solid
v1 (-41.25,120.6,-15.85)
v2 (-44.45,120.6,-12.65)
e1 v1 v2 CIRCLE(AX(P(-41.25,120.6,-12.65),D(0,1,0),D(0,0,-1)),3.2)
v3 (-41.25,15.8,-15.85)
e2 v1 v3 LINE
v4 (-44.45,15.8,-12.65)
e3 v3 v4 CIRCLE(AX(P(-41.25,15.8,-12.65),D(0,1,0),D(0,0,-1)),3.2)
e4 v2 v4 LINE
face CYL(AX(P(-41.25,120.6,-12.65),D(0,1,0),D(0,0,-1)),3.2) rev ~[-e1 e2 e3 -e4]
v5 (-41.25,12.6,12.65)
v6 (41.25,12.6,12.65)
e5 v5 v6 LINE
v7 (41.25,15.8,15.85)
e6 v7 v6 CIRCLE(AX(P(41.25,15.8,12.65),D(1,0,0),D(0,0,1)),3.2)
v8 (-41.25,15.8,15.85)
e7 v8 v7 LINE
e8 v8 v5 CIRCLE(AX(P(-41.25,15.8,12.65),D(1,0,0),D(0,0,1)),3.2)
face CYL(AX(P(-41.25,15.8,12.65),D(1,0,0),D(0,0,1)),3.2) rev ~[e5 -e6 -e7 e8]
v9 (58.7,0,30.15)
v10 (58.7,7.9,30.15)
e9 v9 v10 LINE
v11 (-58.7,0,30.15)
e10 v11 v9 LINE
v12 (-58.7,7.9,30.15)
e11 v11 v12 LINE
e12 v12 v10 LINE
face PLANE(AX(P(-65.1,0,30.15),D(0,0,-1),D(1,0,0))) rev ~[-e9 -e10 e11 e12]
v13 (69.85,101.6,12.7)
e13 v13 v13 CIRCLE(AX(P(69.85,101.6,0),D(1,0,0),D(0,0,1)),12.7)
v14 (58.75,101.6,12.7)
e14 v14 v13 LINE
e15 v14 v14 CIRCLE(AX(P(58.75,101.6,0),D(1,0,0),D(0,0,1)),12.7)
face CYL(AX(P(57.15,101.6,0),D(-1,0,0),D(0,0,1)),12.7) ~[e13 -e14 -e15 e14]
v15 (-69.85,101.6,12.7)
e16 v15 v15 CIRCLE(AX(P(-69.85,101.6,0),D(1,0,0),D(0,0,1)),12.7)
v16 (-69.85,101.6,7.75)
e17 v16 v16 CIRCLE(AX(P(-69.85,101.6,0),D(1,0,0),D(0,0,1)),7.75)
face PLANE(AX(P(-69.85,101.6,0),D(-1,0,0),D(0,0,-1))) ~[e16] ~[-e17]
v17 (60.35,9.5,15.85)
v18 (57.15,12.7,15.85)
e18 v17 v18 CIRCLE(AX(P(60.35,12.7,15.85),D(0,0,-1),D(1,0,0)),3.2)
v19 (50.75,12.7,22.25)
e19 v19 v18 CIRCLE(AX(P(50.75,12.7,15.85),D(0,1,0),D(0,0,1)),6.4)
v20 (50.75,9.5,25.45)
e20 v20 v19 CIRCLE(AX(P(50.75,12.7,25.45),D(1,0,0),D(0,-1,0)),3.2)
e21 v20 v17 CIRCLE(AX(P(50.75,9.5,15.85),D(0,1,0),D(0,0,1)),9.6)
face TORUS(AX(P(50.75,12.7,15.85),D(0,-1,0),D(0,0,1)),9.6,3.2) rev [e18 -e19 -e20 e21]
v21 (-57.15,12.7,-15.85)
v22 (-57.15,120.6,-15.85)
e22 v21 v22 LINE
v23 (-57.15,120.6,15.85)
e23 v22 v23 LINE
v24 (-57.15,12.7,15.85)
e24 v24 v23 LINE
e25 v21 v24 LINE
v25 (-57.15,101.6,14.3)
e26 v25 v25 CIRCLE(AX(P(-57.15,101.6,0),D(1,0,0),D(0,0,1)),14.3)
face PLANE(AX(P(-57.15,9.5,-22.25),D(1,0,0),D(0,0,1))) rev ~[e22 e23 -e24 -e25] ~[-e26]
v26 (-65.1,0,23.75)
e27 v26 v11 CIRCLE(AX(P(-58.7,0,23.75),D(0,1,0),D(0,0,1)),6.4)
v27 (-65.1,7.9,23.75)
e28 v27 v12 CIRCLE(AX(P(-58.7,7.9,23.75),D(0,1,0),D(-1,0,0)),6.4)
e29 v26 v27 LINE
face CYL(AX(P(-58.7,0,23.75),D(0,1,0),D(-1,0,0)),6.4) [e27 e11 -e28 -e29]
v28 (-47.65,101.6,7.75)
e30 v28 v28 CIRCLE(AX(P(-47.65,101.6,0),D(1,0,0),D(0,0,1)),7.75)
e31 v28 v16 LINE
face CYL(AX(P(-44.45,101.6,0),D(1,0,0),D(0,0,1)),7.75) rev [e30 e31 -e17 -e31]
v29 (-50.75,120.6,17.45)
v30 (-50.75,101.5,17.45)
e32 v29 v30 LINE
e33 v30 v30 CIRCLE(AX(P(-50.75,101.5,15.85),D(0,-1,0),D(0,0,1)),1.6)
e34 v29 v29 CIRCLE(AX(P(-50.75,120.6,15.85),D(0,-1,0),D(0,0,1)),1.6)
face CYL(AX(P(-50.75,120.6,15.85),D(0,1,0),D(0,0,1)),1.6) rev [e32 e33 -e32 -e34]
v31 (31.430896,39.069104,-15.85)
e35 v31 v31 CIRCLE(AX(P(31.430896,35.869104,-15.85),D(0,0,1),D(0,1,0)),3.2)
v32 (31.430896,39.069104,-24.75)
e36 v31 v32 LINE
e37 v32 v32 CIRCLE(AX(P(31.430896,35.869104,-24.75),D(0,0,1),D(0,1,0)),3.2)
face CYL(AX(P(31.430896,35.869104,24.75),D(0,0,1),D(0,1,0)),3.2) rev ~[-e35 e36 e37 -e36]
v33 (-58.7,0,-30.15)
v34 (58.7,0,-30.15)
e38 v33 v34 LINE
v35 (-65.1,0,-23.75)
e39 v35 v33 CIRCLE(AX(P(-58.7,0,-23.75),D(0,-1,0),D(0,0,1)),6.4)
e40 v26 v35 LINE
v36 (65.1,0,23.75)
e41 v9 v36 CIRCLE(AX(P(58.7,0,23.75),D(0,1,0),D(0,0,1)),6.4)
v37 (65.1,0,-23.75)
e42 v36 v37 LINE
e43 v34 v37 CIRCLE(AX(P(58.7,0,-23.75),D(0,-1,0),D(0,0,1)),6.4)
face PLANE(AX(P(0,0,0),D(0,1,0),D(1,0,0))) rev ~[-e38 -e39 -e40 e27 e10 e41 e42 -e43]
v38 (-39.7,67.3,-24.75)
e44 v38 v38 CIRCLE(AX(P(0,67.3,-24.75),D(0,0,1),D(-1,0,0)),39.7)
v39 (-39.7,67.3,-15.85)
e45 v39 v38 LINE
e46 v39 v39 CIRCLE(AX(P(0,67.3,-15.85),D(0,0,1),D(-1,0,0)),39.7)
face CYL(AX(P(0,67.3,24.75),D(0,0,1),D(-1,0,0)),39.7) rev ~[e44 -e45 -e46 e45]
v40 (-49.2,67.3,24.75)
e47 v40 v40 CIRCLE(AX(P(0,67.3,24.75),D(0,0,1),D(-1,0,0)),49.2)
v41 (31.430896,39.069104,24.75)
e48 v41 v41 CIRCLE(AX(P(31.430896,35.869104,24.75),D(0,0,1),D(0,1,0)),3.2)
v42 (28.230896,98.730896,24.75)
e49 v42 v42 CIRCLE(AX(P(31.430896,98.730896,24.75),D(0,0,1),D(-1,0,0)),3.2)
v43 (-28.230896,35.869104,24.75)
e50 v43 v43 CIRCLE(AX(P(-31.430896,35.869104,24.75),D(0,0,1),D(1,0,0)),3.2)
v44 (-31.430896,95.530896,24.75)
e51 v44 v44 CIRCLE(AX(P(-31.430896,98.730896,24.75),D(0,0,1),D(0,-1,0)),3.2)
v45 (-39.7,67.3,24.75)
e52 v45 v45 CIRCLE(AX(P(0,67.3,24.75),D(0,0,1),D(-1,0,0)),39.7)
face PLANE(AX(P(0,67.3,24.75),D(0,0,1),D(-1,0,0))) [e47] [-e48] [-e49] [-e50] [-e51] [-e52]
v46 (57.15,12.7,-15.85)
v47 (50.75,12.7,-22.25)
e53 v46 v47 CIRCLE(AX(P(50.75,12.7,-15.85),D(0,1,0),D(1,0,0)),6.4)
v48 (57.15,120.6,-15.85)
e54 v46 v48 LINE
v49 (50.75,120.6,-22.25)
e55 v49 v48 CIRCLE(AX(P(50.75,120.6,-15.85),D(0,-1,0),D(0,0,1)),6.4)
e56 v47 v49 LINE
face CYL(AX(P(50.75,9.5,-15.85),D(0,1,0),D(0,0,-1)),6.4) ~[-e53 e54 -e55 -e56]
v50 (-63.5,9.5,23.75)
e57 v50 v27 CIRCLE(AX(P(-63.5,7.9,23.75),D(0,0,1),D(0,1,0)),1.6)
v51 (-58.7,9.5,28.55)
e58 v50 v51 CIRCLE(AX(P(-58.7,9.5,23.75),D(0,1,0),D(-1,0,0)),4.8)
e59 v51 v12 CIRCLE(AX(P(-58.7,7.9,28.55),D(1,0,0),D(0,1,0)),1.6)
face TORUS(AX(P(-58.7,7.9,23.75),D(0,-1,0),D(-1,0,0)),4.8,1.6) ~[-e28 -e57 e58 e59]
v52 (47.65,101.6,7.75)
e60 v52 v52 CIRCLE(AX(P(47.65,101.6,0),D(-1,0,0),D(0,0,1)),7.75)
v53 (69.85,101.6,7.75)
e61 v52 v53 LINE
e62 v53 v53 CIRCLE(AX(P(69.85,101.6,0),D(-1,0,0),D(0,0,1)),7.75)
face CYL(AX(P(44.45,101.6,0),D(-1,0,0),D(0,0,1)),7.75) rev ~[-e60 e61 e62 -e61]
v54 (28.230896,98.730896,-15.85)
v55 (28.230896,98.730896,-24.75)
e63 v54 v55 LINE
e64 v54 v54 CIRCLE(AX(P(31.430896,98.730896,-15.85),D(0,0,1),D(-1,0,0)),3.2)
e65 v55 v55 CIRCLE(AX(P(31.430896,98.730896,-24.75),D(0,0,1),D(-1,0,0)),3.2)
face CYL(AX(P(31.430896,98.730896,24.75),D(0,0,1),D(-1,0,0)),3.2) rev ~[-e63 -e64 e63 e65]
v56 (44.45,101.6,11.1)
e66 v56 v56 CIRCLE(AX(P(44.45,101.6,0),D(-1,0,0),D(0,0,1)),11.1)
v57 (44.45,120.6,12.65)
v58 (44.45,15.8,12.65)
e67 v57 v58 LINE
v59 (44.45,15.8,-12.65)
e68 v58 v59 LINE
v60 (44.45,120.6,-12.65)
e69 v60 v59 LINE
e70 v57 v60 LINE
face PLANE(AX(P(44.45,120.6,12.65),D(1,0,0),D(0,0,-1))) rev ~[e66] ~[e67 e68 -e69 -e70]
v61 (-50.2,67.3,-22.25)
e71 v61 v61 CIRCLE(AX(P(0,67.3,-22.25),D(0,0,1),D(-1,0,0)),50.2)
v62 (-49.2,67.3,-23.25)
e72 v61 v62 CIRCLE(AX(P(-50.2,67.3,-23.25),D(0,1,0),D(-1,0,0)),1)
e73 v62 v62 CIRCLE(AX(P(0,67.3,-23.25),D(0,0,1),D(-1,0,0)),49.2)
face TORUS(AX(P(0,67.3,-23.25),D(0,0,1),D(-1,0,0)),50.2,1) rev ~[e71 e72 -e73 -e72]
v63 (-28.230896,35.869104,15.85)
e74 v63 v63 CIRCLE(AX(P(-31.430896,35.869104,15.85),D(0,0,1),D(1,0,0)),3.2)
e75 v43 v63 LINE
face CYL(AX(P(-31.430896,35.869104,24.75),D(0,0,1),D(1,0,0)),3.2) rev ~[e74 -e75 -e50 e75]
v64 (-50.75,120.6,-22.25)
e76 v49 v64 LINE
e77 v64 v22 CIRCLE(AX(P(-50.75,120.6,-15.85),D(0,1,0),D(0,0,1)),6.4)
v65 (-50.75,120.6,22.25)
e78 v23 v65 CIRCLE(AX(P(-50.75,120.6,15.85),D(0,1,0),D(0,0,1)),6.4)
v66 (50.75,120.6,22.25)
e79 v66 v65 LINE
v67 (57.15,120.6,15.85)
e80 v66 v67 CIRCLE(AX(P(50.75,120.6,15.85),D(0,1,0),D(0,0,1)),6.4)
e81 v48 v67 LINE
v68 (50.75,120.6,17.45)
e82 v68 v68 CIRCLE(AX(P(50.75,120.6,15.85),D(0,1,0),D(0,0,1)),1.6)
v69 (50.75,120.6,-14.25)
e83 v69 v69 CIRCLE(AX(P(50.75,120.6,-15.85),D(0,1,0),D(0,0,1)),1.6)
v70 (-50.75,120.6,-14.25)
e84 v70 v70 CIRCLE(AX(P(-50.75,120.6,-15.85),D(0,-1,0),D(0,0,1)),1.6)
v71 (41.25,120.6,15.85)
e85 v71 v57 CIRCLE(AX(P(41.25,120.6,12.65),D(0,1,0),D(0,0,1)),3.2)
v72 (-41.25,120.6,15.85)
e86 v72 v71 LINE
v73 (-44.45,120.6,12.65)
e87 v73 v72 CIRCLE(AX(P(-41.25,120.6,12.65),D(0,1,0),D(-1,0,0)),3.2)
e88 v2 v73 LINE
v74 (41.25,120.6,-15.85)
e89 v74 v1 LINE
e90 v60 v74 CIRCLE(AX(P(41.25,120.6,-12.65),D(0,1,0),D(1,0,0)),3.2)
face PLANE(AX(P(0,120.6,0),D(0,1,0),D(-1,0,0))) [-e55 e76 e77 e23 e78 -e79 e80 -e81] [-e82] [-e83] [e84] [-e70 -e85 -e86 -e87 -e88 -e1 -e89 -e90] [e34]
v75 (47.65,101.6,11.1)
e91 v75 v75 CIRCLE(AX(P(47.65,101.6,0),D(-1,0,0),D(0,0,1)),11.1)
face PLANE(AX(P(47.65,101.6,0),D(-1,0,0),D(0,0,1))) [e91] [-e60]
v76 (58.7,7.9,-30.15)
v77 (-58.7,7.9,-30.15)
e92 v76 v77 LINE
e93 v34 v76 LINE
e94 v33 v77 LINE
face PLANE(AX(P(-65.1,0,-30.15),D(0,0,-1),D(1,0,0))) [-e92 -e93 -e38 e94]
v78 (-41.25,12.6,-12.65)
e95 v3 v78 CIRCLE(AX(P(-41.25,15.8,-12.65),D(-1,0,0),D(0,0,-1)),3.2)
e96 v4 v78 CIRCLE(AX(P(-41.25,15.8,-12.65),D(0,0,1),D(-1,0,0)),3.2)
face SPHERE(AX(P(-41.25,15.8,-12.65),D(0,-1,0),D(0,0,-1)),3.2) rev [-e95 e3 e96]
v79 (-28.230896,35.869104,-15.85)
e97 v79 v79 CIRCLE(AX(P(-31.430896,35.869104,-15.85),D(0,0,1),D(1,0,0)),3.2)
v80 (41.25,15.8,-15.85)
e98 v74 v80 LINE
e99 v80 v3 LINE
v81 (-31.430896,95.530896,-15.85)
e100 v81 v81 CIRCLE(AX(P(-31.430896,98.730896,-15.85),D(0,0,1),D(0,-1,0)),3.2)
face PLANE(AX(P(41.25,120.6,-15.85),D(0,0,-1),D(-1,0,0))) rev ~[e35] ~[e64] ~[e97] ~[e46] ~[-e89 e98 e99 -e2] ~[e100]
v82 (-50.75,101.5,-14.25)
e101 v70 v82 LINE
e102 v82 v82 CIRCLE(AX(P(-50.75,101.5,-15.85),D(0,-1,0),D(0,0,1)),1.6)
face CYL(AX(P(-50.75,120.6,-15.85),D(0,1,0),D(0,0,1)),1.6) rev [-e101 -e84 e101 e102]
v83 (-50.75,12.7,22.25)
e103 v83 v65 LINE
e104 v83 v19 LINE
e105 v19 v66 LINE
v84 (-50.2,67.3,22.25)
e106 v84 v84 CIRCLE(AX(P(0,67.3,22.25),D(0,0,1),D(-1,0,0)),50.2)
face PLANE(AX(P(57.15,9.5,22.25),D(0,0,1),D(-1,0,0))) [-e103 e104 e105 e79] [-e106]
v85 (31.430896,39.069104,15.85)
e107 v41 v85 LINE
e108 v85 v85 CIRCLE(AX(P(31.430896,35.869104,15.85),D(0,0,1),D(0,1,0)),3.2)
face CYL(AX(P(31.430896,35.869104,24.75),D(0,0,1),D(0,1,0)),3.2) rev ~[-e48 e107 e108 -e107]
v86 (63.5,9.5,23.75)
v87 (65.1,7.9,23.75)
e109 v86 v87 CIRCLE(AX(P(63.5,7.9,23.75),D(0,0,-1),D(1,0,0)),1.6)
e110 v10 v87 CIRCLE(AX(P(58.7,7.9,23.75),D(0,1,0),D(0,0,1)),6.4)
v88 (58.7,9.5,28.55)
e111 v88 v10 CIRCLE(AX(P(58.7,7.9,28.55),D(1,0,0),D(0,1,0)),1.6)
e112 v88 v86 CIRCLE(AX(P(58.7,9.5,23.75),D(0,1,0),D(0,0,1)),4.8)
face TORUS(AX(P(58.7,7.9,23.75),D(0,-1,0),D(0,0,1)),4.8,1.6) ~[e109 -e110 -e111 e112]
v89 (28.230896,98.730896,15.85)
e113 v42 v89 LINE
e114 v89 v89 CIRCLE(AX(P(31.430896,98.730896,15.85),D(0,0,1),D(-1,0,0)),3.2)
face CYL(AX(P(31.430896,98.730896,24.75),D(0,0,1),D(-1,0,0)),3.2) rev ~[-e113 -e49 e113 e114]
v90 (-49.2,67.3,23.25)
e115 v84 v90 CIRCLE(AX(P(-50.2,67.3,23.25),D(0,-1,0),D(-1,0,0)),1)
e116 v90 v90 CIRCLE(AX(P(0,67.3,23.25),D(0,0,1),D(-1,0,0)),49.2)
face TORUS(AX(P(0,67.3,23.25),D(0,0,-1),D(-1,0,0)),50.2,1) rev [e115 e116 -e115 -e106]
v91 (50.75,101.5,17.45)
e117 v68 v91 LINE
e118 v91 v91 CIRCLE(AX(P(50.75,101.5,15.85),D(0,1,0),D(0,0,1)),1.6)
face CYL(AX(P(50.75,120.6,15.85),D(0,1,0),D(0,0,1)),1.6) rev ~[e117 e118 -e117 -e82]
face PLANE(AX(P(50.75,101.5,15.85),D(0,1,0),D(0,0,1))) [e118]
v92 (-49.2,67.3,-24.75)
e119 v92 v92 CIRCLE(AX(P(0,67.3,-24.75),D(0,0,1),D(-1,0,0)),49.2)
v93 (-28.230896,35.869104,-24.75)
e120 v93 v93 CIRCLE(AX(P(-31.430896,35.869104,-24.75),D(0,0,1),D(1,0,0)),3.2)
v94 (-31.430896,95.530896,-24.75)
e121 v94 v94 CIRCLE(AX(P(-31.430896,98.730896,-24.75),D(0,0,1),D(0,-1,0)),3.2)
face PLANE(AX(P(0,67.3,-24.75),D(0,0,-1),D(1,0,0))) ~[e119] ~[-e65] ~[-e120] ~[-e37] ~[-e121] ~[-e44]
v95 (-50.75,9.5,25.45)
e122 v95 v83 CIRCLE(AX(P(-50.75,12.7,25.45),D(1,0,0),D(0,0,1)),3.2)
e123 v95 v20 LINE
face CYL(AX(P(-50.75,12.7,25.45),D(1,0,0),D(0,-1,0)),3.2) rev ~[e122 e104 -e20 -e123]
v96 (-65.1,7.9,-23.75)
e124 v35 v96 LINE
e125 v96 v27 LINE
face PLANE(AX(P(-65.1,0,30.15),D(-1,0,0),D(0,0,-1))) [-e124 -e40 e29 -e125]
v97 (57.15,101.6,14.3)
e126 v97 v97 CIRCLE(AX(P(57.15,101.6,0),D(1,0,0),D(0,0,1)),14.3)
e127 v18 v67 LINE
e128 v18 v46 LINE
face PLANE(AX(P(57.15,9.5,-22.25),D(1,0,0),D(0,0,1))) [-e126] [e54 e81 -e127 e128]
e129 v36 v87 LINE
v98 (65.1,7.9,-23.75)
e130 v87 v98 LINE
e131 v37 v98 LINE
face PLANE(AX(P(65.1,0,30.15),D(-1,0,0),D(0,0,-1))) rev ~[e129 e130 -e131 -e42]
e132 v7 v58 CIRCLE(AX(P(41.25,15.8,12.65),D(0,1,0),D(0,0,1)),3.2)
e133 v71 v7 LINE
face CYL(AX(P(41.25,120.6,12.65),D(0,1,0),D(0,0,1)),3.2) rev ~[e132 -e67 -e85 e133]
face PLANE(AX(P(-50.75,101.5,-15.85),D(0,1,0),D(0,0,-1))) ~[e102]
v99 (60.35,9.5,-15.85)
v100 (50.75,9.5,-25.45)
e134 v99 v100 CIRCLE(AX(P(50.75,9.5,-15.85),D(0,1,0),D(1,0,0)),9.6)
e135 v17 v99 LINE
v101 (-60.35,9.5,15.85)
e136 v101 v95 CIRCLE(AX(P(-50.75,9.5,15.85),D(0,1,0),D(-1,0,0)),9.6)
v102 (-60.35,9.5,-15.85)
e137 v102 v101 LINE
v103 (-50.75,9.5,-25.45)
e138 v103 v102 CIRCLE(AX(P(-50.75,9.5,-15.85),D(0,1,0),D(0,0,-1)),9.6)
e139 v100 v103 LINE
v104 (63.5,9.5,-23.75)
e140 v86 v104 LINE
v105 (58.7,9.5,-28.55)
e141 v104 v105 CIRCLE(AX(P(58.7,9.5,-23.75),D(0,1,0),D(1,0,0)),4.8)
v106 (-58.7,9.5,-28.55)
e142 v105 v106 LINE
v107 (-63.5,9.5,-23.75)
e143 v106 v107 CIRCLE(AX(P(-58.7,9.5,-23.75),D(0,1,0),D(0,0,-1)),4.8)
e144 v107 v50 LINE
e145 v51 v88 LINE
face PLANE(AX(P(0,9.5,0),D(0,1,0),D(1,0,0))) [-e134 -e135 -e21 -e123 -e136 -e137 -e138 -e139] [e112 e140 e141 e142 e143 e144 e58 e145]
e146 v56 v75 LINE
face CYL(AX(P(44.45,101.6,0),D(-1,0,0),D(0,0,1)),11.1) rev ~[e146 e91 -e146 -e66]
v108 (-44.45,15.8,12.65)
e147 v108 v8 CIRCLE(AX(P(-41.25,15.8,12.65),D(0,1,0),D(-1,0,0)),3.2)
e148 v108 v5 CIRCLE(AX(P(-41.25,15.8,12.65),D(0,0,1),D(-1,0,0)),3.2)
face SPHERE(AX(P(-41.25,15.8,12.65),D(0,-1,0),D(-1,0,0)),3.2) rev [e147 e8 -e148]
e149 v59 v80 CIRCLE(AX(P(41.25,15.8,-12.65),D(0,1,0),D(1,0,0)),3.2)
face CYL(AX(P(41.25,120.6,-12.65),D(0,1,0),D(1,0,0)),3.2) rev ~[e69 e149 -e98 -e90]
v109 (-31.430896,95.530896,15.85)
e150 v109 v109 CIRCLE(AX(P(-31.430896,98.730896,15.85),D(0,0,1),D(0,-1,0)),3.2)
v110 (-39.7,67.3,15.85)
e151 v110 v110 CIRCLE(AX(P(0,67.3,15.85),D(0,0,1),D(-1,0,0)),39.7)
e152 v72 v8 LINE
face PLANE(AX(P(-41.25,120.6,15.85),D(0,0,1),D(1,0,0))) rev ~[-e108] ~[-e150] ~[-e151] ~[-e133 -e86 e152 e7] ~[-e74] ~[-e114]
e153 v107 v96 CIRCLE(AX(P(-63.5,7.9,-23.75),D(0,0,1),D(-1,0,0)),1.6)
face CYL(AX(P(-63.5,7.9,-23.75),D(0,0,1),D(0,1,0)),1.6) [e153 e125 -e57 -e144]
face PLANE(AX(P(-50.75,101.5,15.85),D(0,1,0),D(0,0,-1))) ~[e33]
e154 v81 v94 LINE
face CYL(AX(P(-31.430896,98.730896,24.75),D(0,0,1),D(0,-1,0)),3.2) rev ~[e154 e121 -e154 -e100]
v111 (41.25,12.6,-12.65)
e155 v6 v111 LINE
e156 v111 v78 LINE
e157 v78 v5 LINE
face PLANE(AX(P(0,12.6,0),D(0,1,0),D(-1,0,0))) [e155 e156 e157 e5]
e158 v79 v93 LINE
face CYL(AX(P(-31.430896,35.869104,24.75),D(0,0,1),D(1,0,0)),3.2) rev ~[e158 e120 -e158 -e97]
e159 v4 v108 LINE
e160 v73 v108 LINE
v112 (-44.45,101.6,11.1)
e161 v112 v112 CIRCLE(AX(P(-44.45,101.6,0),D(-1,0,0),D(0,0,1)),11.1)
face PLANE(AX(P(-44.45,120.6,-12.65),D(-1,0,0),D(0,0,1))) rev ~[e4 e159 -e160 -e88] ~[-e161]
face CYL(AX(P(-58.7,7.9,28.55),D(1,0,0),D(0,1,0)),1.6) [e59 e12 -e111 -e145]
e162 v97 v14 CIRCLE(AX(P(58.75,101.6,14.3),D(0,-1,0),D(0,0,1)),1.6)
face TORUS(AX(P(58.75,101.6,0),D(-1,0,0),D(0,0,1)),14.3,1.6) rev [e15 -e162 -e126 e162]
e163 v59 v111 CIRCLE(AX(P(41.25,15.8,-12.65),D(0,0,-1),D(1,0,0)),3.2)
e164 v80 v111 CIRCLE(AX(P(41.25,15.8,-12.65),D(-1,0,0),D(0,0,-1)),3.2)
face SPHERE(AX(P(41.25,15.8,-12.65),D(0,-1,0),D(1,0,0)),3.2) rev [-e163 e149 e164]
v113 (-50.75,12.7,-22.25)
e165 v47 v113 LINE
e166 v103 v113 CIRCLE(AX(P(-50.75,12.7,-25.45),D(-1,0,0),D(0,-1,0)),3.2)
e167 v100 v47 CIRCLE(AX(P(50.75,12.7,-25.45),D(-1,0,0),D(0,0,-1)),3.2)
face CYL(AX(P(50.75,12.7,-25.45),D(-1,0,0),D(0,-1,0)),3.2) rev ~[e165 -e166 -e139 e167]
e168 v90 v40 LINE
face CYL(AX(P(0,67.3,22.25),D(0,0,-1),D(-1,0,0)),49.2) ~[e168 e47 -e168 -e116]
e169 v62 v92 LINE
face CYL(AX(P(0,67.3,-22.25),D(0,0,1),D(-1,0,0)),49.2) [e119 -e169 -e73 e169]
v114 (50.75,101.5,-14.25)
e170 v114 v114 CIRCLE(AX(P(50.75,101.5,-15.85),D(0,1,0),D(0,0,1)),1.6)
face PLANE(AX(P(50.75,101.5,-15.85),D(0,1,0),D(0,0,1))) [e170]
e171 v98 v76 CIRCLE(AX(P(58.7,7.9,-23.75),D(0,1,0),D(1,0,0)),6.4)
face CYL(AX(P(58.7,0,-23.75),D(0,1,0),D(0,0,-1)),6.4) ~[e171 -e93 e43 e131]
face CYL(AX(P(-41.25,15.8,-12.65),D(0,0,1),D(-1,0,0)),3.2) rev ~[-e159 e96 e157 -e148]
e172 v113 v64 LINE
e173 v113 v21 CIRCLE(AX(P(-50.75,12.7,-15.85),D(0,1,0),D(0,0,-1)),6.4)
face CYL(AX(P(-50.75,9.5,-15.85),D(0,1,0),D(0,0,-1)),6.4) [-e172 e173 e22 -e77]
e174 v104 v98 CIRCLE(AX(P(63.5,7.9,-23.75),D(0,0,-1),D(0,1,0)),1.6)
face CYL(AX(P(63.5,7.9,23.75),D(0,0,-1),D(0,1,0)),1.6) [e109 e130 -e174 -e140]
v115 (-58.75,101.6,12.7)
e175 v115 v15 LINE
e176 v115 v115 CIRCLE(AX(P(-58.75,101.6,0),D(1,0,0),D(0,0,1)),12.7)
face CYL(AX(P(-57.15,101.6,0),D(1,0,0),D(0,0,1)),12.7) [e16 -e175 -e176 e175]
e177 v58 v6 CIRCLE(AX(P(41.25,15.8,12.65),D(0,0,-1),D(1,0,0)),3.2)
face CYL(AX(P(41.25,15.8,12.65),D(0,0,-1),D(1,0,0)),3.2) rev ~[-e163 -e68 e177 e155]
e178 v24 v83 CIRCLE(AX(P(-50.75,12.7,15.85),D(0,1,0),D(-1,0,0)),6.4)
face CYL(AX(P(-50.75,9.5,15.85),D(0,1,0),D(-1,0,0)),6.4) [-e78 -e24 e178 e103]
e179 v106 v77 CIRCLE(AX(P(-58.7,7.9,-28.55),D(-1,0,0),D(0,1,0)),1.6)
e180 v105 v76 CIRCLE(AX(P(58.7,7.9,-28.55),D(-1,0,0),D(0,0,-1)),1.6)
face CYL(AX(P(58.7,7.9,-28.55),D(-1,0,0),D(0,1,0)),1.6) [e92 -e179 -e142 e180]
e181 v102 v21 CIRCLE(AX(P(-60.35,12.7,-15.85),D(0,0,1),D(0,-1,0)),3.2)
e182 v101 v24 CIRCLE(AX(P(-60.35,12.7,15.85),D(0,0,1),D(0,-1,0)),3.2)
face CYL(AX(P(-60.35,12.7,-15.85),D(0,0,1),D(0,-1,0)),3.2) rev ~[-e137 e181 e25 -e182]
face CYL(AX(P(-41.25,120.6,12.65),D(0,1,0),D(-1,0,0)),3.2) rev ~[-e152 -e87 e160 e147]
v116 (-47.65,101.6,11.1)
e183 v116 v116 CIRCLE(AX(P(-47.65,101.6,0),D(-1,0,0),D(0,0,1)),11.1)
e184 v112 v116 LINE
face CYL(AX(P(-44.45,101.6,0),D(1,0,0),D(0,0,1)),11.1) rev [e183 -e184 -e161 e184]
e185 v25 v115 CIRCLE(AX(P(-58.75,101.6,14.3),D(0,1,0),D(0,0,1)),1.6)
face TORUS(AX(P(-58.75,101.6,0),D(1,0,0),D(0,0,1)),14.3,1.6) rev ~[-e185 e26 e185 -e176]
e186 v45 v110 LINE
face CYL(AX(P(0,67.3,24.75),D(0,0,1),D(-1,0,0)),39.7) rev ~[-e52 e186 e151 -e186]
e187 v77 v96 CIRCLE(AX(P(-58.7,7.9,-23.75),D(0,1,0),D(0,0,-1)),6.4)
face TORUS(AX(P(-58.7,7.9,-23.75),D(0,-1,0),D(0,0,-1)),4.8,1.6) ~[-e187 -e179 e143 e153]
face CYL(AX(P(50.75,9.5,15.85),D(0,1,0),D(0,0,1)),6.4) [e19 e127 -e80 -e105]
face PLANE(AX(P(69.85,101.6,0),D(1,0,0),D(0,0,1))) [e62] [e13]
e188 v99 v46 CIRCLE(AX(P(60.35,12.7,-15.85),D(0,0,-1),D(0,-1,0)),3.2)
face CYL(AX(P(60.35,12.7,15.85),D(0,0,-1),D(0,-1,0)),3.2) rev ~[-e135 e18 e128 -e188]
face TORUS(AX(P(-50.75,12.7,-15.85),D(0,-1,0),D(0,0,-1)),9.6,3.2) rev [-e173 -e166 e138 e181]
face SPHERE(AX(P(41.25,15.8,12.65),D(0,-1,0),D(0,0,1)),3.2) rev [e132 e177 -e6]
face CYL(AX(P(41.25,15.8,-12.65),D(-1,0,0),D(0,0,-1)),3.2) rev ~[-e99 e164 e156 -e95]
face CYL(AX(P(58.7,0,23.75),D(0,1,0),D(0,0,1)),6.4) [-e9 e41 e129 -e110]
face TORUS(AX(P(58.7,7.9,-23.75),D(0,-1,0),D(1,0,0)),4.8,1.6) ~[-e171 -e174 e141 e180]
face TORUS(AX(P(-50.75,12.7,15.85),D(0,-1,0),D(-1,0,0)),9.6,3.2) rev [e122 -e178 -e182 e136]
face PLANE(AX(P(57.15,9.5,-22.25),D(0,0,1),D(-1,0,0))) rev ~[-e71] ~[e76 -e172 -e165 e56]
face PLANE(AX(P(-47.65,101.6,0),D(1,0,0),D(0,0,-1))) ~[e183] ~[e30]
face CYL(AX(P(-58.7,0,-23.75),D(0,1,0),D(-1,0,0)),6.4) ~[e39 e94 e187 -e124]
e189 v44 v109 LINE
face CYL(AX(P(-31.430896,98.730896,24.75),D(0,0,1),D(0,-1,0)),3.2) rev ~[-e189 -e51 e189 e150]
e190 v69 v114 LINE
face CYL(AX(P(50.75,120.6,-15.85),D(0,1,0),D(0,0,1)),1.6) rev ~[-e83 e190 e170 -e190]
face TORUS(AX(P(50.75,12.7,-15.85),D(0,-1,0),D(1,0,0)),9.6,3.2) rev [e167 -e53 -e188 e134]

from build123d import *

# Parameters (mm, degrees)
SKETCH1_W           = 130.2
SKETCH1_H           = 60.3
BASE_EXTRUDE_DEPTH  = 9.5
SKETCH2_W           = 114.3
SKETCH2_H           = 44.5
BOSS_EXTRUDE1_DEPTH = 111.1
FILLET1_R           = 6.4
FILLET2_R           = 1.6
FILLET3_R           = 3.2
CUT_EXTRUDE1_DEPTH  = 108
FILLET4_R           = 3.2
SKETCH4_R           = 49.2
BOSS_EXTRUDE2_DEPTH = 2.5
SKETCH5_R           = 39.7
CUT_EXTRUDE2_DEPTH  = 148.635971271
FILLET5_R           = 1
SKETCH6_R           = 12.7
BOSS_EXTRUDE3_DEPTH = 12.7
SKETCH7_R           = 7.75
CUT_EXTRUDE3_DEPTH  = 166.694251626
SKETCH8_R           = 11.1
CUT_EXTRUDE4_DEPTH  = 3.2
FILLET6_R           = 1.6
SKETCH9_R           = 3.2
CUT_EXTRUDE5_DEPTH  = 150.791162957
CIRPATTERN1_COUNT   = 4
SKETCH10_R          = 1.6
CUT_EXTRUDE6_DEPTH  = 19.1


with BuildPart() as part:
    # Sketch1 → Base-Extrude (new body)
    with BuildSketch(Plane(origin=(0, 0, 0), x_dir=(1, 0, 0), z_dir=(0, 1, 0))):
        Rectangle(SKETCH1_W, SKETCH1_H)
    extrude(amount=BASE_EXTRUDE_DEPTH)

    # Sketch2 → Boss-Extrude1 (add)
    with BuildSketch(Plane(origin=(0, 9.5, 0), x_dir=(-1, 0, 0), z_dir=(0, 1, 0))):
        Rectangle(SKETCH2_W, SKETCH2_H)
    extrude(amount=BOSS_EXTRUDE1_DEPTH)

    # Fillet1
    fillet1_edges = [part.edges().sort_by_distance(p)[0] for p in [
        (-57.15, 65.05, -22.25),
        (-57.15, 65.05, 22.25),
        (57.15, 65.05, 22.25),
        (57.15, 65.05, -22.25),
        (-65.1, 4.75, -30.15),
        (65.1, 4.75, -30.15),
        (65.1, 4.75, 30.15),
        (-65.1, 4.75, 30.15),
    ]]
    fillet(fillet1_edges, radius=FILLET1_R)

    # Fillet2
    fillet2_edges = [part.edges().sort_by_distance(p)[0] for p in [
        (0, 9.5, 30.15),
        (-65.1, 9.5, 0),
        (65.1, 9.5, 0),
        (0, 9.5, -30.15),
        (-63.2254834, 9.5, -28.2754834),
        (63.2254834, 9.5, 28.2754834),
        (63.2254834, 9.5, -28.2754834),
        (-63.2254834, 9.5, 28.2754834),
    ]]
    fillet(fillet2_edges, radius=FILLET2_R)

    # Fillet3
    fillet3_edges = [part.edges().sort_by_distance(p)[0] for p in [
        (-57.15, 9.5, 0),
        (0, 9.5, -22.25),
        (57.15, 9.5, 0),
        (0, 9.5, 22.25),
        (-55.2754834, 9.5, 20.3754834),
        (-55.2754834, 9.5, -20.3754834),
        (55.2754834, 9.5, 20.3754834),
        (55.2754834, 9.5, -20.3754834),
    ]]
    fillet(fillet3_edges, radius=FILLET3_R)

    # Sketch3 → Cut-Extrude1 (cut)
    with BuildSketch(Plane(origin=(0, 120.6, 0), x_dir=(-1, 0, 0), z_dir=(0, 1, 0))):
        with BuildLine():
            Line((41.25, 15.85), (-41.25, 15.85))
            ThreePointArc((-41.25, 15.85), (-43.5127417, 14.9127417), (-44.45, 12.65))
            Line((-44.45, 12.65), (-44.45, -12.65))
            ThreePointArc((-44.45, -12.65), (-43.5127417, -14.9127417), (-41.25, -15.85))
            Line((-41.25, -15.85), (41.25, -15.85))
            ThreePointArc((41.25, -15.85), (43.5127417, -14.9127417), (44.45, -12.65))
            Line((44.45, -12.65), (44.45, 12.65))
            ThreePointArc((44.45, 12.65), (43.5127417, 14.9127417), (41.25, 15.85))
        make_face()
    extrude(amount=-CUT_EXTRUDE1_DEPTH, mode=Mode.SUBTRACT)

    # Fillet4
    fillet4_edges = [part.edges().sort_by_distance(p)[0] for p in [
        (43.5127417, 12.6, 14.9127417),
        (0, 12.6, 15.85),
        (-43.5127417, 12.6, 14.9127417),
        (-44.45, 12.6, 0),
        (-43.5127417, 12.6, -14.9127417),
        (0, 12.6, -15.85),
        (43.5127417, 12.6, -14.9127417),
        (44.45, 12.6, 0),
    ]]
    fillet(fillet4_edges, radius=FILLET4_R)

    # Sketch4 → Boss-Extrude2 (add)
    with BuildSketch(Plane.XY.offset(22.25)):
        with Locations(Location((0, 67.3, 0), (0, 0, 180))):
            Circle(SKETCH4_R)
    boss_extrude2 = extrude(amount=BOSS_EXTRUDE2_DEPTH)

    # Mirror1: Boss-Extrude2 across plane
    add(boss_extrude2.mirror(Plane.XY))

    # Sketch5 → Cut-Extrude2 (cut, through all)
    with BuildSketch(Plane.XY.offset(24.75)):
        with Locations(Location((0, 67.3, 0), (0, 0, 180))):
            Circle(SKETCH5_R)
    extrude(amount=-CUT_EXTRUDE2_DEPTH, mode=Mode.SUBTRACT)

    # Fillet5
    fillet5_edges = [part.edges().sort_by_distance(p)[0] for p in [
        (49.2, 67.3, 22.25),
        (49.2, 67.3, -22.25),
    ]]
    fillet(fillet5_edges, radius=FILLET5_R)

    # Sketch6 → Boss-Extrude3 (add)
    with BuildSketch(Plane(origin=(57.15, 0, 0), x_dir=(0, 0, -1), z_dir=(1, 0, 0))):
        with Locations(Location((0, 101.6, 0), (0, 0, 180))):
            Circle(SKETCH6_R)
    boss_extrude3 = extrude(amount=BOSS_EXTRUDE3_DEPTH)

    # Sketch7 → Cut-Extrude3 (cut, through all)
    with BuildSketch(Plane.ZY.offset(-44.45)):
        with Locations((0, 101.6)):
            Circle(SKETCH7_R)
    cut_extrude3 = extrude(amount=-CUT_EXTRUDE3_DEPTH, mode=Mode.SUBTRACT)

    # Sketch8 → Cut-Extrude4 (cut)
    with BuildSketch(Plane.ZY.offset(-44.45)):
        with Locations((0, 101.6)):
            Circle(SKETCH8_R)
    cut_extrude4 = extrude(amount=-CUT_EXTRUDE4_DEPTH, mode=Mode.SUBTRACT)

    # Mirror3: Boss-Extrude3, Cut-Extrude3, Cut-Extrude4 across plane
    add(boss_extrude3.mirror(Plane(origin=(0, 0, 0), x_dir=(0, 0, 1), z_dir=(1, 0, 0))))
    add(cut_extrude3.mirror(Plane(origin=(0, 0, 0), x_dir=(0, 0, 1), z_dir=(1, 0, 0))), mode=Mode.SUBTRACT)
    add(cut_extrude4.mirror(Plane(origin=(0, 0, 0), x_dir=(0, 0, 1), z_dir=(1, 0, 0))), mode=Mode.SUBTRACT)

    # Fillet6
    fillet6_edges = [part.edges().sort_by_distance(p)[0] for p in [
        (57.15, 101.6, -12.7),
        (-57.15, 101.6, -12.7),
    ]]
    fillet(fillet6_edges, radius=FILLET6_R)

    # Sketch9 → Cut-Extrude5 (cut, through all)
    with BuildSketch(Plane.XY.offset(24.75)):
        with Locations(Location((31.430896424, 98.730896424, 0), (0, 0, 180))):
            Circle(SKETCH9_R)
    cut_extrude5 = extrude(amount=-CUT_EXTRUDE5_DEPTH, mode=Mode.SUBTRACT)

    # CirPattern1: Cut-Extrude5 ×4 about axis
    cirpattern1_axis = Axis((0, 67.3, 0), (0, 0, 1))
    for i in range(1, CIRPATTERN1_COUNT):
        add(cut_extrude5.rotate(cirpattern1_axis, i * 360 / CIRPATTERN1_COUNT), mode=Mode.SUBTRACT)

    # Sketch10 → Cut-Extrude6 (cut)
    with BuildSketch(Plane(origin=(0, 120.6, 0), x_dir=(-1, 0, 0), z_dir=(0, 1, 0))):
        with Locations(Location((-50.75, -15.85, 0), (0, 0, 90))):
            Circle(SKETCH10_R)
        with Locations(Location((-50.75, 15.85, 0), (0, 0, 90))):
            Circle(SKETCH10_R)
    cut_extrude6 = extrude(amount=-CUT_EXTRUDE6_DEPTH, mode=Mode.SUBTRACT)

    # Mirror4: Cut-Extrude6 across plane
    add(cut_extrude6.mirror(Plane(origin=(0, 0, 0), x_dir=(0, 0, 1), z_dir=(1, 0, 0))), mode=Mode.SUBTRACT)


solid = part.part
